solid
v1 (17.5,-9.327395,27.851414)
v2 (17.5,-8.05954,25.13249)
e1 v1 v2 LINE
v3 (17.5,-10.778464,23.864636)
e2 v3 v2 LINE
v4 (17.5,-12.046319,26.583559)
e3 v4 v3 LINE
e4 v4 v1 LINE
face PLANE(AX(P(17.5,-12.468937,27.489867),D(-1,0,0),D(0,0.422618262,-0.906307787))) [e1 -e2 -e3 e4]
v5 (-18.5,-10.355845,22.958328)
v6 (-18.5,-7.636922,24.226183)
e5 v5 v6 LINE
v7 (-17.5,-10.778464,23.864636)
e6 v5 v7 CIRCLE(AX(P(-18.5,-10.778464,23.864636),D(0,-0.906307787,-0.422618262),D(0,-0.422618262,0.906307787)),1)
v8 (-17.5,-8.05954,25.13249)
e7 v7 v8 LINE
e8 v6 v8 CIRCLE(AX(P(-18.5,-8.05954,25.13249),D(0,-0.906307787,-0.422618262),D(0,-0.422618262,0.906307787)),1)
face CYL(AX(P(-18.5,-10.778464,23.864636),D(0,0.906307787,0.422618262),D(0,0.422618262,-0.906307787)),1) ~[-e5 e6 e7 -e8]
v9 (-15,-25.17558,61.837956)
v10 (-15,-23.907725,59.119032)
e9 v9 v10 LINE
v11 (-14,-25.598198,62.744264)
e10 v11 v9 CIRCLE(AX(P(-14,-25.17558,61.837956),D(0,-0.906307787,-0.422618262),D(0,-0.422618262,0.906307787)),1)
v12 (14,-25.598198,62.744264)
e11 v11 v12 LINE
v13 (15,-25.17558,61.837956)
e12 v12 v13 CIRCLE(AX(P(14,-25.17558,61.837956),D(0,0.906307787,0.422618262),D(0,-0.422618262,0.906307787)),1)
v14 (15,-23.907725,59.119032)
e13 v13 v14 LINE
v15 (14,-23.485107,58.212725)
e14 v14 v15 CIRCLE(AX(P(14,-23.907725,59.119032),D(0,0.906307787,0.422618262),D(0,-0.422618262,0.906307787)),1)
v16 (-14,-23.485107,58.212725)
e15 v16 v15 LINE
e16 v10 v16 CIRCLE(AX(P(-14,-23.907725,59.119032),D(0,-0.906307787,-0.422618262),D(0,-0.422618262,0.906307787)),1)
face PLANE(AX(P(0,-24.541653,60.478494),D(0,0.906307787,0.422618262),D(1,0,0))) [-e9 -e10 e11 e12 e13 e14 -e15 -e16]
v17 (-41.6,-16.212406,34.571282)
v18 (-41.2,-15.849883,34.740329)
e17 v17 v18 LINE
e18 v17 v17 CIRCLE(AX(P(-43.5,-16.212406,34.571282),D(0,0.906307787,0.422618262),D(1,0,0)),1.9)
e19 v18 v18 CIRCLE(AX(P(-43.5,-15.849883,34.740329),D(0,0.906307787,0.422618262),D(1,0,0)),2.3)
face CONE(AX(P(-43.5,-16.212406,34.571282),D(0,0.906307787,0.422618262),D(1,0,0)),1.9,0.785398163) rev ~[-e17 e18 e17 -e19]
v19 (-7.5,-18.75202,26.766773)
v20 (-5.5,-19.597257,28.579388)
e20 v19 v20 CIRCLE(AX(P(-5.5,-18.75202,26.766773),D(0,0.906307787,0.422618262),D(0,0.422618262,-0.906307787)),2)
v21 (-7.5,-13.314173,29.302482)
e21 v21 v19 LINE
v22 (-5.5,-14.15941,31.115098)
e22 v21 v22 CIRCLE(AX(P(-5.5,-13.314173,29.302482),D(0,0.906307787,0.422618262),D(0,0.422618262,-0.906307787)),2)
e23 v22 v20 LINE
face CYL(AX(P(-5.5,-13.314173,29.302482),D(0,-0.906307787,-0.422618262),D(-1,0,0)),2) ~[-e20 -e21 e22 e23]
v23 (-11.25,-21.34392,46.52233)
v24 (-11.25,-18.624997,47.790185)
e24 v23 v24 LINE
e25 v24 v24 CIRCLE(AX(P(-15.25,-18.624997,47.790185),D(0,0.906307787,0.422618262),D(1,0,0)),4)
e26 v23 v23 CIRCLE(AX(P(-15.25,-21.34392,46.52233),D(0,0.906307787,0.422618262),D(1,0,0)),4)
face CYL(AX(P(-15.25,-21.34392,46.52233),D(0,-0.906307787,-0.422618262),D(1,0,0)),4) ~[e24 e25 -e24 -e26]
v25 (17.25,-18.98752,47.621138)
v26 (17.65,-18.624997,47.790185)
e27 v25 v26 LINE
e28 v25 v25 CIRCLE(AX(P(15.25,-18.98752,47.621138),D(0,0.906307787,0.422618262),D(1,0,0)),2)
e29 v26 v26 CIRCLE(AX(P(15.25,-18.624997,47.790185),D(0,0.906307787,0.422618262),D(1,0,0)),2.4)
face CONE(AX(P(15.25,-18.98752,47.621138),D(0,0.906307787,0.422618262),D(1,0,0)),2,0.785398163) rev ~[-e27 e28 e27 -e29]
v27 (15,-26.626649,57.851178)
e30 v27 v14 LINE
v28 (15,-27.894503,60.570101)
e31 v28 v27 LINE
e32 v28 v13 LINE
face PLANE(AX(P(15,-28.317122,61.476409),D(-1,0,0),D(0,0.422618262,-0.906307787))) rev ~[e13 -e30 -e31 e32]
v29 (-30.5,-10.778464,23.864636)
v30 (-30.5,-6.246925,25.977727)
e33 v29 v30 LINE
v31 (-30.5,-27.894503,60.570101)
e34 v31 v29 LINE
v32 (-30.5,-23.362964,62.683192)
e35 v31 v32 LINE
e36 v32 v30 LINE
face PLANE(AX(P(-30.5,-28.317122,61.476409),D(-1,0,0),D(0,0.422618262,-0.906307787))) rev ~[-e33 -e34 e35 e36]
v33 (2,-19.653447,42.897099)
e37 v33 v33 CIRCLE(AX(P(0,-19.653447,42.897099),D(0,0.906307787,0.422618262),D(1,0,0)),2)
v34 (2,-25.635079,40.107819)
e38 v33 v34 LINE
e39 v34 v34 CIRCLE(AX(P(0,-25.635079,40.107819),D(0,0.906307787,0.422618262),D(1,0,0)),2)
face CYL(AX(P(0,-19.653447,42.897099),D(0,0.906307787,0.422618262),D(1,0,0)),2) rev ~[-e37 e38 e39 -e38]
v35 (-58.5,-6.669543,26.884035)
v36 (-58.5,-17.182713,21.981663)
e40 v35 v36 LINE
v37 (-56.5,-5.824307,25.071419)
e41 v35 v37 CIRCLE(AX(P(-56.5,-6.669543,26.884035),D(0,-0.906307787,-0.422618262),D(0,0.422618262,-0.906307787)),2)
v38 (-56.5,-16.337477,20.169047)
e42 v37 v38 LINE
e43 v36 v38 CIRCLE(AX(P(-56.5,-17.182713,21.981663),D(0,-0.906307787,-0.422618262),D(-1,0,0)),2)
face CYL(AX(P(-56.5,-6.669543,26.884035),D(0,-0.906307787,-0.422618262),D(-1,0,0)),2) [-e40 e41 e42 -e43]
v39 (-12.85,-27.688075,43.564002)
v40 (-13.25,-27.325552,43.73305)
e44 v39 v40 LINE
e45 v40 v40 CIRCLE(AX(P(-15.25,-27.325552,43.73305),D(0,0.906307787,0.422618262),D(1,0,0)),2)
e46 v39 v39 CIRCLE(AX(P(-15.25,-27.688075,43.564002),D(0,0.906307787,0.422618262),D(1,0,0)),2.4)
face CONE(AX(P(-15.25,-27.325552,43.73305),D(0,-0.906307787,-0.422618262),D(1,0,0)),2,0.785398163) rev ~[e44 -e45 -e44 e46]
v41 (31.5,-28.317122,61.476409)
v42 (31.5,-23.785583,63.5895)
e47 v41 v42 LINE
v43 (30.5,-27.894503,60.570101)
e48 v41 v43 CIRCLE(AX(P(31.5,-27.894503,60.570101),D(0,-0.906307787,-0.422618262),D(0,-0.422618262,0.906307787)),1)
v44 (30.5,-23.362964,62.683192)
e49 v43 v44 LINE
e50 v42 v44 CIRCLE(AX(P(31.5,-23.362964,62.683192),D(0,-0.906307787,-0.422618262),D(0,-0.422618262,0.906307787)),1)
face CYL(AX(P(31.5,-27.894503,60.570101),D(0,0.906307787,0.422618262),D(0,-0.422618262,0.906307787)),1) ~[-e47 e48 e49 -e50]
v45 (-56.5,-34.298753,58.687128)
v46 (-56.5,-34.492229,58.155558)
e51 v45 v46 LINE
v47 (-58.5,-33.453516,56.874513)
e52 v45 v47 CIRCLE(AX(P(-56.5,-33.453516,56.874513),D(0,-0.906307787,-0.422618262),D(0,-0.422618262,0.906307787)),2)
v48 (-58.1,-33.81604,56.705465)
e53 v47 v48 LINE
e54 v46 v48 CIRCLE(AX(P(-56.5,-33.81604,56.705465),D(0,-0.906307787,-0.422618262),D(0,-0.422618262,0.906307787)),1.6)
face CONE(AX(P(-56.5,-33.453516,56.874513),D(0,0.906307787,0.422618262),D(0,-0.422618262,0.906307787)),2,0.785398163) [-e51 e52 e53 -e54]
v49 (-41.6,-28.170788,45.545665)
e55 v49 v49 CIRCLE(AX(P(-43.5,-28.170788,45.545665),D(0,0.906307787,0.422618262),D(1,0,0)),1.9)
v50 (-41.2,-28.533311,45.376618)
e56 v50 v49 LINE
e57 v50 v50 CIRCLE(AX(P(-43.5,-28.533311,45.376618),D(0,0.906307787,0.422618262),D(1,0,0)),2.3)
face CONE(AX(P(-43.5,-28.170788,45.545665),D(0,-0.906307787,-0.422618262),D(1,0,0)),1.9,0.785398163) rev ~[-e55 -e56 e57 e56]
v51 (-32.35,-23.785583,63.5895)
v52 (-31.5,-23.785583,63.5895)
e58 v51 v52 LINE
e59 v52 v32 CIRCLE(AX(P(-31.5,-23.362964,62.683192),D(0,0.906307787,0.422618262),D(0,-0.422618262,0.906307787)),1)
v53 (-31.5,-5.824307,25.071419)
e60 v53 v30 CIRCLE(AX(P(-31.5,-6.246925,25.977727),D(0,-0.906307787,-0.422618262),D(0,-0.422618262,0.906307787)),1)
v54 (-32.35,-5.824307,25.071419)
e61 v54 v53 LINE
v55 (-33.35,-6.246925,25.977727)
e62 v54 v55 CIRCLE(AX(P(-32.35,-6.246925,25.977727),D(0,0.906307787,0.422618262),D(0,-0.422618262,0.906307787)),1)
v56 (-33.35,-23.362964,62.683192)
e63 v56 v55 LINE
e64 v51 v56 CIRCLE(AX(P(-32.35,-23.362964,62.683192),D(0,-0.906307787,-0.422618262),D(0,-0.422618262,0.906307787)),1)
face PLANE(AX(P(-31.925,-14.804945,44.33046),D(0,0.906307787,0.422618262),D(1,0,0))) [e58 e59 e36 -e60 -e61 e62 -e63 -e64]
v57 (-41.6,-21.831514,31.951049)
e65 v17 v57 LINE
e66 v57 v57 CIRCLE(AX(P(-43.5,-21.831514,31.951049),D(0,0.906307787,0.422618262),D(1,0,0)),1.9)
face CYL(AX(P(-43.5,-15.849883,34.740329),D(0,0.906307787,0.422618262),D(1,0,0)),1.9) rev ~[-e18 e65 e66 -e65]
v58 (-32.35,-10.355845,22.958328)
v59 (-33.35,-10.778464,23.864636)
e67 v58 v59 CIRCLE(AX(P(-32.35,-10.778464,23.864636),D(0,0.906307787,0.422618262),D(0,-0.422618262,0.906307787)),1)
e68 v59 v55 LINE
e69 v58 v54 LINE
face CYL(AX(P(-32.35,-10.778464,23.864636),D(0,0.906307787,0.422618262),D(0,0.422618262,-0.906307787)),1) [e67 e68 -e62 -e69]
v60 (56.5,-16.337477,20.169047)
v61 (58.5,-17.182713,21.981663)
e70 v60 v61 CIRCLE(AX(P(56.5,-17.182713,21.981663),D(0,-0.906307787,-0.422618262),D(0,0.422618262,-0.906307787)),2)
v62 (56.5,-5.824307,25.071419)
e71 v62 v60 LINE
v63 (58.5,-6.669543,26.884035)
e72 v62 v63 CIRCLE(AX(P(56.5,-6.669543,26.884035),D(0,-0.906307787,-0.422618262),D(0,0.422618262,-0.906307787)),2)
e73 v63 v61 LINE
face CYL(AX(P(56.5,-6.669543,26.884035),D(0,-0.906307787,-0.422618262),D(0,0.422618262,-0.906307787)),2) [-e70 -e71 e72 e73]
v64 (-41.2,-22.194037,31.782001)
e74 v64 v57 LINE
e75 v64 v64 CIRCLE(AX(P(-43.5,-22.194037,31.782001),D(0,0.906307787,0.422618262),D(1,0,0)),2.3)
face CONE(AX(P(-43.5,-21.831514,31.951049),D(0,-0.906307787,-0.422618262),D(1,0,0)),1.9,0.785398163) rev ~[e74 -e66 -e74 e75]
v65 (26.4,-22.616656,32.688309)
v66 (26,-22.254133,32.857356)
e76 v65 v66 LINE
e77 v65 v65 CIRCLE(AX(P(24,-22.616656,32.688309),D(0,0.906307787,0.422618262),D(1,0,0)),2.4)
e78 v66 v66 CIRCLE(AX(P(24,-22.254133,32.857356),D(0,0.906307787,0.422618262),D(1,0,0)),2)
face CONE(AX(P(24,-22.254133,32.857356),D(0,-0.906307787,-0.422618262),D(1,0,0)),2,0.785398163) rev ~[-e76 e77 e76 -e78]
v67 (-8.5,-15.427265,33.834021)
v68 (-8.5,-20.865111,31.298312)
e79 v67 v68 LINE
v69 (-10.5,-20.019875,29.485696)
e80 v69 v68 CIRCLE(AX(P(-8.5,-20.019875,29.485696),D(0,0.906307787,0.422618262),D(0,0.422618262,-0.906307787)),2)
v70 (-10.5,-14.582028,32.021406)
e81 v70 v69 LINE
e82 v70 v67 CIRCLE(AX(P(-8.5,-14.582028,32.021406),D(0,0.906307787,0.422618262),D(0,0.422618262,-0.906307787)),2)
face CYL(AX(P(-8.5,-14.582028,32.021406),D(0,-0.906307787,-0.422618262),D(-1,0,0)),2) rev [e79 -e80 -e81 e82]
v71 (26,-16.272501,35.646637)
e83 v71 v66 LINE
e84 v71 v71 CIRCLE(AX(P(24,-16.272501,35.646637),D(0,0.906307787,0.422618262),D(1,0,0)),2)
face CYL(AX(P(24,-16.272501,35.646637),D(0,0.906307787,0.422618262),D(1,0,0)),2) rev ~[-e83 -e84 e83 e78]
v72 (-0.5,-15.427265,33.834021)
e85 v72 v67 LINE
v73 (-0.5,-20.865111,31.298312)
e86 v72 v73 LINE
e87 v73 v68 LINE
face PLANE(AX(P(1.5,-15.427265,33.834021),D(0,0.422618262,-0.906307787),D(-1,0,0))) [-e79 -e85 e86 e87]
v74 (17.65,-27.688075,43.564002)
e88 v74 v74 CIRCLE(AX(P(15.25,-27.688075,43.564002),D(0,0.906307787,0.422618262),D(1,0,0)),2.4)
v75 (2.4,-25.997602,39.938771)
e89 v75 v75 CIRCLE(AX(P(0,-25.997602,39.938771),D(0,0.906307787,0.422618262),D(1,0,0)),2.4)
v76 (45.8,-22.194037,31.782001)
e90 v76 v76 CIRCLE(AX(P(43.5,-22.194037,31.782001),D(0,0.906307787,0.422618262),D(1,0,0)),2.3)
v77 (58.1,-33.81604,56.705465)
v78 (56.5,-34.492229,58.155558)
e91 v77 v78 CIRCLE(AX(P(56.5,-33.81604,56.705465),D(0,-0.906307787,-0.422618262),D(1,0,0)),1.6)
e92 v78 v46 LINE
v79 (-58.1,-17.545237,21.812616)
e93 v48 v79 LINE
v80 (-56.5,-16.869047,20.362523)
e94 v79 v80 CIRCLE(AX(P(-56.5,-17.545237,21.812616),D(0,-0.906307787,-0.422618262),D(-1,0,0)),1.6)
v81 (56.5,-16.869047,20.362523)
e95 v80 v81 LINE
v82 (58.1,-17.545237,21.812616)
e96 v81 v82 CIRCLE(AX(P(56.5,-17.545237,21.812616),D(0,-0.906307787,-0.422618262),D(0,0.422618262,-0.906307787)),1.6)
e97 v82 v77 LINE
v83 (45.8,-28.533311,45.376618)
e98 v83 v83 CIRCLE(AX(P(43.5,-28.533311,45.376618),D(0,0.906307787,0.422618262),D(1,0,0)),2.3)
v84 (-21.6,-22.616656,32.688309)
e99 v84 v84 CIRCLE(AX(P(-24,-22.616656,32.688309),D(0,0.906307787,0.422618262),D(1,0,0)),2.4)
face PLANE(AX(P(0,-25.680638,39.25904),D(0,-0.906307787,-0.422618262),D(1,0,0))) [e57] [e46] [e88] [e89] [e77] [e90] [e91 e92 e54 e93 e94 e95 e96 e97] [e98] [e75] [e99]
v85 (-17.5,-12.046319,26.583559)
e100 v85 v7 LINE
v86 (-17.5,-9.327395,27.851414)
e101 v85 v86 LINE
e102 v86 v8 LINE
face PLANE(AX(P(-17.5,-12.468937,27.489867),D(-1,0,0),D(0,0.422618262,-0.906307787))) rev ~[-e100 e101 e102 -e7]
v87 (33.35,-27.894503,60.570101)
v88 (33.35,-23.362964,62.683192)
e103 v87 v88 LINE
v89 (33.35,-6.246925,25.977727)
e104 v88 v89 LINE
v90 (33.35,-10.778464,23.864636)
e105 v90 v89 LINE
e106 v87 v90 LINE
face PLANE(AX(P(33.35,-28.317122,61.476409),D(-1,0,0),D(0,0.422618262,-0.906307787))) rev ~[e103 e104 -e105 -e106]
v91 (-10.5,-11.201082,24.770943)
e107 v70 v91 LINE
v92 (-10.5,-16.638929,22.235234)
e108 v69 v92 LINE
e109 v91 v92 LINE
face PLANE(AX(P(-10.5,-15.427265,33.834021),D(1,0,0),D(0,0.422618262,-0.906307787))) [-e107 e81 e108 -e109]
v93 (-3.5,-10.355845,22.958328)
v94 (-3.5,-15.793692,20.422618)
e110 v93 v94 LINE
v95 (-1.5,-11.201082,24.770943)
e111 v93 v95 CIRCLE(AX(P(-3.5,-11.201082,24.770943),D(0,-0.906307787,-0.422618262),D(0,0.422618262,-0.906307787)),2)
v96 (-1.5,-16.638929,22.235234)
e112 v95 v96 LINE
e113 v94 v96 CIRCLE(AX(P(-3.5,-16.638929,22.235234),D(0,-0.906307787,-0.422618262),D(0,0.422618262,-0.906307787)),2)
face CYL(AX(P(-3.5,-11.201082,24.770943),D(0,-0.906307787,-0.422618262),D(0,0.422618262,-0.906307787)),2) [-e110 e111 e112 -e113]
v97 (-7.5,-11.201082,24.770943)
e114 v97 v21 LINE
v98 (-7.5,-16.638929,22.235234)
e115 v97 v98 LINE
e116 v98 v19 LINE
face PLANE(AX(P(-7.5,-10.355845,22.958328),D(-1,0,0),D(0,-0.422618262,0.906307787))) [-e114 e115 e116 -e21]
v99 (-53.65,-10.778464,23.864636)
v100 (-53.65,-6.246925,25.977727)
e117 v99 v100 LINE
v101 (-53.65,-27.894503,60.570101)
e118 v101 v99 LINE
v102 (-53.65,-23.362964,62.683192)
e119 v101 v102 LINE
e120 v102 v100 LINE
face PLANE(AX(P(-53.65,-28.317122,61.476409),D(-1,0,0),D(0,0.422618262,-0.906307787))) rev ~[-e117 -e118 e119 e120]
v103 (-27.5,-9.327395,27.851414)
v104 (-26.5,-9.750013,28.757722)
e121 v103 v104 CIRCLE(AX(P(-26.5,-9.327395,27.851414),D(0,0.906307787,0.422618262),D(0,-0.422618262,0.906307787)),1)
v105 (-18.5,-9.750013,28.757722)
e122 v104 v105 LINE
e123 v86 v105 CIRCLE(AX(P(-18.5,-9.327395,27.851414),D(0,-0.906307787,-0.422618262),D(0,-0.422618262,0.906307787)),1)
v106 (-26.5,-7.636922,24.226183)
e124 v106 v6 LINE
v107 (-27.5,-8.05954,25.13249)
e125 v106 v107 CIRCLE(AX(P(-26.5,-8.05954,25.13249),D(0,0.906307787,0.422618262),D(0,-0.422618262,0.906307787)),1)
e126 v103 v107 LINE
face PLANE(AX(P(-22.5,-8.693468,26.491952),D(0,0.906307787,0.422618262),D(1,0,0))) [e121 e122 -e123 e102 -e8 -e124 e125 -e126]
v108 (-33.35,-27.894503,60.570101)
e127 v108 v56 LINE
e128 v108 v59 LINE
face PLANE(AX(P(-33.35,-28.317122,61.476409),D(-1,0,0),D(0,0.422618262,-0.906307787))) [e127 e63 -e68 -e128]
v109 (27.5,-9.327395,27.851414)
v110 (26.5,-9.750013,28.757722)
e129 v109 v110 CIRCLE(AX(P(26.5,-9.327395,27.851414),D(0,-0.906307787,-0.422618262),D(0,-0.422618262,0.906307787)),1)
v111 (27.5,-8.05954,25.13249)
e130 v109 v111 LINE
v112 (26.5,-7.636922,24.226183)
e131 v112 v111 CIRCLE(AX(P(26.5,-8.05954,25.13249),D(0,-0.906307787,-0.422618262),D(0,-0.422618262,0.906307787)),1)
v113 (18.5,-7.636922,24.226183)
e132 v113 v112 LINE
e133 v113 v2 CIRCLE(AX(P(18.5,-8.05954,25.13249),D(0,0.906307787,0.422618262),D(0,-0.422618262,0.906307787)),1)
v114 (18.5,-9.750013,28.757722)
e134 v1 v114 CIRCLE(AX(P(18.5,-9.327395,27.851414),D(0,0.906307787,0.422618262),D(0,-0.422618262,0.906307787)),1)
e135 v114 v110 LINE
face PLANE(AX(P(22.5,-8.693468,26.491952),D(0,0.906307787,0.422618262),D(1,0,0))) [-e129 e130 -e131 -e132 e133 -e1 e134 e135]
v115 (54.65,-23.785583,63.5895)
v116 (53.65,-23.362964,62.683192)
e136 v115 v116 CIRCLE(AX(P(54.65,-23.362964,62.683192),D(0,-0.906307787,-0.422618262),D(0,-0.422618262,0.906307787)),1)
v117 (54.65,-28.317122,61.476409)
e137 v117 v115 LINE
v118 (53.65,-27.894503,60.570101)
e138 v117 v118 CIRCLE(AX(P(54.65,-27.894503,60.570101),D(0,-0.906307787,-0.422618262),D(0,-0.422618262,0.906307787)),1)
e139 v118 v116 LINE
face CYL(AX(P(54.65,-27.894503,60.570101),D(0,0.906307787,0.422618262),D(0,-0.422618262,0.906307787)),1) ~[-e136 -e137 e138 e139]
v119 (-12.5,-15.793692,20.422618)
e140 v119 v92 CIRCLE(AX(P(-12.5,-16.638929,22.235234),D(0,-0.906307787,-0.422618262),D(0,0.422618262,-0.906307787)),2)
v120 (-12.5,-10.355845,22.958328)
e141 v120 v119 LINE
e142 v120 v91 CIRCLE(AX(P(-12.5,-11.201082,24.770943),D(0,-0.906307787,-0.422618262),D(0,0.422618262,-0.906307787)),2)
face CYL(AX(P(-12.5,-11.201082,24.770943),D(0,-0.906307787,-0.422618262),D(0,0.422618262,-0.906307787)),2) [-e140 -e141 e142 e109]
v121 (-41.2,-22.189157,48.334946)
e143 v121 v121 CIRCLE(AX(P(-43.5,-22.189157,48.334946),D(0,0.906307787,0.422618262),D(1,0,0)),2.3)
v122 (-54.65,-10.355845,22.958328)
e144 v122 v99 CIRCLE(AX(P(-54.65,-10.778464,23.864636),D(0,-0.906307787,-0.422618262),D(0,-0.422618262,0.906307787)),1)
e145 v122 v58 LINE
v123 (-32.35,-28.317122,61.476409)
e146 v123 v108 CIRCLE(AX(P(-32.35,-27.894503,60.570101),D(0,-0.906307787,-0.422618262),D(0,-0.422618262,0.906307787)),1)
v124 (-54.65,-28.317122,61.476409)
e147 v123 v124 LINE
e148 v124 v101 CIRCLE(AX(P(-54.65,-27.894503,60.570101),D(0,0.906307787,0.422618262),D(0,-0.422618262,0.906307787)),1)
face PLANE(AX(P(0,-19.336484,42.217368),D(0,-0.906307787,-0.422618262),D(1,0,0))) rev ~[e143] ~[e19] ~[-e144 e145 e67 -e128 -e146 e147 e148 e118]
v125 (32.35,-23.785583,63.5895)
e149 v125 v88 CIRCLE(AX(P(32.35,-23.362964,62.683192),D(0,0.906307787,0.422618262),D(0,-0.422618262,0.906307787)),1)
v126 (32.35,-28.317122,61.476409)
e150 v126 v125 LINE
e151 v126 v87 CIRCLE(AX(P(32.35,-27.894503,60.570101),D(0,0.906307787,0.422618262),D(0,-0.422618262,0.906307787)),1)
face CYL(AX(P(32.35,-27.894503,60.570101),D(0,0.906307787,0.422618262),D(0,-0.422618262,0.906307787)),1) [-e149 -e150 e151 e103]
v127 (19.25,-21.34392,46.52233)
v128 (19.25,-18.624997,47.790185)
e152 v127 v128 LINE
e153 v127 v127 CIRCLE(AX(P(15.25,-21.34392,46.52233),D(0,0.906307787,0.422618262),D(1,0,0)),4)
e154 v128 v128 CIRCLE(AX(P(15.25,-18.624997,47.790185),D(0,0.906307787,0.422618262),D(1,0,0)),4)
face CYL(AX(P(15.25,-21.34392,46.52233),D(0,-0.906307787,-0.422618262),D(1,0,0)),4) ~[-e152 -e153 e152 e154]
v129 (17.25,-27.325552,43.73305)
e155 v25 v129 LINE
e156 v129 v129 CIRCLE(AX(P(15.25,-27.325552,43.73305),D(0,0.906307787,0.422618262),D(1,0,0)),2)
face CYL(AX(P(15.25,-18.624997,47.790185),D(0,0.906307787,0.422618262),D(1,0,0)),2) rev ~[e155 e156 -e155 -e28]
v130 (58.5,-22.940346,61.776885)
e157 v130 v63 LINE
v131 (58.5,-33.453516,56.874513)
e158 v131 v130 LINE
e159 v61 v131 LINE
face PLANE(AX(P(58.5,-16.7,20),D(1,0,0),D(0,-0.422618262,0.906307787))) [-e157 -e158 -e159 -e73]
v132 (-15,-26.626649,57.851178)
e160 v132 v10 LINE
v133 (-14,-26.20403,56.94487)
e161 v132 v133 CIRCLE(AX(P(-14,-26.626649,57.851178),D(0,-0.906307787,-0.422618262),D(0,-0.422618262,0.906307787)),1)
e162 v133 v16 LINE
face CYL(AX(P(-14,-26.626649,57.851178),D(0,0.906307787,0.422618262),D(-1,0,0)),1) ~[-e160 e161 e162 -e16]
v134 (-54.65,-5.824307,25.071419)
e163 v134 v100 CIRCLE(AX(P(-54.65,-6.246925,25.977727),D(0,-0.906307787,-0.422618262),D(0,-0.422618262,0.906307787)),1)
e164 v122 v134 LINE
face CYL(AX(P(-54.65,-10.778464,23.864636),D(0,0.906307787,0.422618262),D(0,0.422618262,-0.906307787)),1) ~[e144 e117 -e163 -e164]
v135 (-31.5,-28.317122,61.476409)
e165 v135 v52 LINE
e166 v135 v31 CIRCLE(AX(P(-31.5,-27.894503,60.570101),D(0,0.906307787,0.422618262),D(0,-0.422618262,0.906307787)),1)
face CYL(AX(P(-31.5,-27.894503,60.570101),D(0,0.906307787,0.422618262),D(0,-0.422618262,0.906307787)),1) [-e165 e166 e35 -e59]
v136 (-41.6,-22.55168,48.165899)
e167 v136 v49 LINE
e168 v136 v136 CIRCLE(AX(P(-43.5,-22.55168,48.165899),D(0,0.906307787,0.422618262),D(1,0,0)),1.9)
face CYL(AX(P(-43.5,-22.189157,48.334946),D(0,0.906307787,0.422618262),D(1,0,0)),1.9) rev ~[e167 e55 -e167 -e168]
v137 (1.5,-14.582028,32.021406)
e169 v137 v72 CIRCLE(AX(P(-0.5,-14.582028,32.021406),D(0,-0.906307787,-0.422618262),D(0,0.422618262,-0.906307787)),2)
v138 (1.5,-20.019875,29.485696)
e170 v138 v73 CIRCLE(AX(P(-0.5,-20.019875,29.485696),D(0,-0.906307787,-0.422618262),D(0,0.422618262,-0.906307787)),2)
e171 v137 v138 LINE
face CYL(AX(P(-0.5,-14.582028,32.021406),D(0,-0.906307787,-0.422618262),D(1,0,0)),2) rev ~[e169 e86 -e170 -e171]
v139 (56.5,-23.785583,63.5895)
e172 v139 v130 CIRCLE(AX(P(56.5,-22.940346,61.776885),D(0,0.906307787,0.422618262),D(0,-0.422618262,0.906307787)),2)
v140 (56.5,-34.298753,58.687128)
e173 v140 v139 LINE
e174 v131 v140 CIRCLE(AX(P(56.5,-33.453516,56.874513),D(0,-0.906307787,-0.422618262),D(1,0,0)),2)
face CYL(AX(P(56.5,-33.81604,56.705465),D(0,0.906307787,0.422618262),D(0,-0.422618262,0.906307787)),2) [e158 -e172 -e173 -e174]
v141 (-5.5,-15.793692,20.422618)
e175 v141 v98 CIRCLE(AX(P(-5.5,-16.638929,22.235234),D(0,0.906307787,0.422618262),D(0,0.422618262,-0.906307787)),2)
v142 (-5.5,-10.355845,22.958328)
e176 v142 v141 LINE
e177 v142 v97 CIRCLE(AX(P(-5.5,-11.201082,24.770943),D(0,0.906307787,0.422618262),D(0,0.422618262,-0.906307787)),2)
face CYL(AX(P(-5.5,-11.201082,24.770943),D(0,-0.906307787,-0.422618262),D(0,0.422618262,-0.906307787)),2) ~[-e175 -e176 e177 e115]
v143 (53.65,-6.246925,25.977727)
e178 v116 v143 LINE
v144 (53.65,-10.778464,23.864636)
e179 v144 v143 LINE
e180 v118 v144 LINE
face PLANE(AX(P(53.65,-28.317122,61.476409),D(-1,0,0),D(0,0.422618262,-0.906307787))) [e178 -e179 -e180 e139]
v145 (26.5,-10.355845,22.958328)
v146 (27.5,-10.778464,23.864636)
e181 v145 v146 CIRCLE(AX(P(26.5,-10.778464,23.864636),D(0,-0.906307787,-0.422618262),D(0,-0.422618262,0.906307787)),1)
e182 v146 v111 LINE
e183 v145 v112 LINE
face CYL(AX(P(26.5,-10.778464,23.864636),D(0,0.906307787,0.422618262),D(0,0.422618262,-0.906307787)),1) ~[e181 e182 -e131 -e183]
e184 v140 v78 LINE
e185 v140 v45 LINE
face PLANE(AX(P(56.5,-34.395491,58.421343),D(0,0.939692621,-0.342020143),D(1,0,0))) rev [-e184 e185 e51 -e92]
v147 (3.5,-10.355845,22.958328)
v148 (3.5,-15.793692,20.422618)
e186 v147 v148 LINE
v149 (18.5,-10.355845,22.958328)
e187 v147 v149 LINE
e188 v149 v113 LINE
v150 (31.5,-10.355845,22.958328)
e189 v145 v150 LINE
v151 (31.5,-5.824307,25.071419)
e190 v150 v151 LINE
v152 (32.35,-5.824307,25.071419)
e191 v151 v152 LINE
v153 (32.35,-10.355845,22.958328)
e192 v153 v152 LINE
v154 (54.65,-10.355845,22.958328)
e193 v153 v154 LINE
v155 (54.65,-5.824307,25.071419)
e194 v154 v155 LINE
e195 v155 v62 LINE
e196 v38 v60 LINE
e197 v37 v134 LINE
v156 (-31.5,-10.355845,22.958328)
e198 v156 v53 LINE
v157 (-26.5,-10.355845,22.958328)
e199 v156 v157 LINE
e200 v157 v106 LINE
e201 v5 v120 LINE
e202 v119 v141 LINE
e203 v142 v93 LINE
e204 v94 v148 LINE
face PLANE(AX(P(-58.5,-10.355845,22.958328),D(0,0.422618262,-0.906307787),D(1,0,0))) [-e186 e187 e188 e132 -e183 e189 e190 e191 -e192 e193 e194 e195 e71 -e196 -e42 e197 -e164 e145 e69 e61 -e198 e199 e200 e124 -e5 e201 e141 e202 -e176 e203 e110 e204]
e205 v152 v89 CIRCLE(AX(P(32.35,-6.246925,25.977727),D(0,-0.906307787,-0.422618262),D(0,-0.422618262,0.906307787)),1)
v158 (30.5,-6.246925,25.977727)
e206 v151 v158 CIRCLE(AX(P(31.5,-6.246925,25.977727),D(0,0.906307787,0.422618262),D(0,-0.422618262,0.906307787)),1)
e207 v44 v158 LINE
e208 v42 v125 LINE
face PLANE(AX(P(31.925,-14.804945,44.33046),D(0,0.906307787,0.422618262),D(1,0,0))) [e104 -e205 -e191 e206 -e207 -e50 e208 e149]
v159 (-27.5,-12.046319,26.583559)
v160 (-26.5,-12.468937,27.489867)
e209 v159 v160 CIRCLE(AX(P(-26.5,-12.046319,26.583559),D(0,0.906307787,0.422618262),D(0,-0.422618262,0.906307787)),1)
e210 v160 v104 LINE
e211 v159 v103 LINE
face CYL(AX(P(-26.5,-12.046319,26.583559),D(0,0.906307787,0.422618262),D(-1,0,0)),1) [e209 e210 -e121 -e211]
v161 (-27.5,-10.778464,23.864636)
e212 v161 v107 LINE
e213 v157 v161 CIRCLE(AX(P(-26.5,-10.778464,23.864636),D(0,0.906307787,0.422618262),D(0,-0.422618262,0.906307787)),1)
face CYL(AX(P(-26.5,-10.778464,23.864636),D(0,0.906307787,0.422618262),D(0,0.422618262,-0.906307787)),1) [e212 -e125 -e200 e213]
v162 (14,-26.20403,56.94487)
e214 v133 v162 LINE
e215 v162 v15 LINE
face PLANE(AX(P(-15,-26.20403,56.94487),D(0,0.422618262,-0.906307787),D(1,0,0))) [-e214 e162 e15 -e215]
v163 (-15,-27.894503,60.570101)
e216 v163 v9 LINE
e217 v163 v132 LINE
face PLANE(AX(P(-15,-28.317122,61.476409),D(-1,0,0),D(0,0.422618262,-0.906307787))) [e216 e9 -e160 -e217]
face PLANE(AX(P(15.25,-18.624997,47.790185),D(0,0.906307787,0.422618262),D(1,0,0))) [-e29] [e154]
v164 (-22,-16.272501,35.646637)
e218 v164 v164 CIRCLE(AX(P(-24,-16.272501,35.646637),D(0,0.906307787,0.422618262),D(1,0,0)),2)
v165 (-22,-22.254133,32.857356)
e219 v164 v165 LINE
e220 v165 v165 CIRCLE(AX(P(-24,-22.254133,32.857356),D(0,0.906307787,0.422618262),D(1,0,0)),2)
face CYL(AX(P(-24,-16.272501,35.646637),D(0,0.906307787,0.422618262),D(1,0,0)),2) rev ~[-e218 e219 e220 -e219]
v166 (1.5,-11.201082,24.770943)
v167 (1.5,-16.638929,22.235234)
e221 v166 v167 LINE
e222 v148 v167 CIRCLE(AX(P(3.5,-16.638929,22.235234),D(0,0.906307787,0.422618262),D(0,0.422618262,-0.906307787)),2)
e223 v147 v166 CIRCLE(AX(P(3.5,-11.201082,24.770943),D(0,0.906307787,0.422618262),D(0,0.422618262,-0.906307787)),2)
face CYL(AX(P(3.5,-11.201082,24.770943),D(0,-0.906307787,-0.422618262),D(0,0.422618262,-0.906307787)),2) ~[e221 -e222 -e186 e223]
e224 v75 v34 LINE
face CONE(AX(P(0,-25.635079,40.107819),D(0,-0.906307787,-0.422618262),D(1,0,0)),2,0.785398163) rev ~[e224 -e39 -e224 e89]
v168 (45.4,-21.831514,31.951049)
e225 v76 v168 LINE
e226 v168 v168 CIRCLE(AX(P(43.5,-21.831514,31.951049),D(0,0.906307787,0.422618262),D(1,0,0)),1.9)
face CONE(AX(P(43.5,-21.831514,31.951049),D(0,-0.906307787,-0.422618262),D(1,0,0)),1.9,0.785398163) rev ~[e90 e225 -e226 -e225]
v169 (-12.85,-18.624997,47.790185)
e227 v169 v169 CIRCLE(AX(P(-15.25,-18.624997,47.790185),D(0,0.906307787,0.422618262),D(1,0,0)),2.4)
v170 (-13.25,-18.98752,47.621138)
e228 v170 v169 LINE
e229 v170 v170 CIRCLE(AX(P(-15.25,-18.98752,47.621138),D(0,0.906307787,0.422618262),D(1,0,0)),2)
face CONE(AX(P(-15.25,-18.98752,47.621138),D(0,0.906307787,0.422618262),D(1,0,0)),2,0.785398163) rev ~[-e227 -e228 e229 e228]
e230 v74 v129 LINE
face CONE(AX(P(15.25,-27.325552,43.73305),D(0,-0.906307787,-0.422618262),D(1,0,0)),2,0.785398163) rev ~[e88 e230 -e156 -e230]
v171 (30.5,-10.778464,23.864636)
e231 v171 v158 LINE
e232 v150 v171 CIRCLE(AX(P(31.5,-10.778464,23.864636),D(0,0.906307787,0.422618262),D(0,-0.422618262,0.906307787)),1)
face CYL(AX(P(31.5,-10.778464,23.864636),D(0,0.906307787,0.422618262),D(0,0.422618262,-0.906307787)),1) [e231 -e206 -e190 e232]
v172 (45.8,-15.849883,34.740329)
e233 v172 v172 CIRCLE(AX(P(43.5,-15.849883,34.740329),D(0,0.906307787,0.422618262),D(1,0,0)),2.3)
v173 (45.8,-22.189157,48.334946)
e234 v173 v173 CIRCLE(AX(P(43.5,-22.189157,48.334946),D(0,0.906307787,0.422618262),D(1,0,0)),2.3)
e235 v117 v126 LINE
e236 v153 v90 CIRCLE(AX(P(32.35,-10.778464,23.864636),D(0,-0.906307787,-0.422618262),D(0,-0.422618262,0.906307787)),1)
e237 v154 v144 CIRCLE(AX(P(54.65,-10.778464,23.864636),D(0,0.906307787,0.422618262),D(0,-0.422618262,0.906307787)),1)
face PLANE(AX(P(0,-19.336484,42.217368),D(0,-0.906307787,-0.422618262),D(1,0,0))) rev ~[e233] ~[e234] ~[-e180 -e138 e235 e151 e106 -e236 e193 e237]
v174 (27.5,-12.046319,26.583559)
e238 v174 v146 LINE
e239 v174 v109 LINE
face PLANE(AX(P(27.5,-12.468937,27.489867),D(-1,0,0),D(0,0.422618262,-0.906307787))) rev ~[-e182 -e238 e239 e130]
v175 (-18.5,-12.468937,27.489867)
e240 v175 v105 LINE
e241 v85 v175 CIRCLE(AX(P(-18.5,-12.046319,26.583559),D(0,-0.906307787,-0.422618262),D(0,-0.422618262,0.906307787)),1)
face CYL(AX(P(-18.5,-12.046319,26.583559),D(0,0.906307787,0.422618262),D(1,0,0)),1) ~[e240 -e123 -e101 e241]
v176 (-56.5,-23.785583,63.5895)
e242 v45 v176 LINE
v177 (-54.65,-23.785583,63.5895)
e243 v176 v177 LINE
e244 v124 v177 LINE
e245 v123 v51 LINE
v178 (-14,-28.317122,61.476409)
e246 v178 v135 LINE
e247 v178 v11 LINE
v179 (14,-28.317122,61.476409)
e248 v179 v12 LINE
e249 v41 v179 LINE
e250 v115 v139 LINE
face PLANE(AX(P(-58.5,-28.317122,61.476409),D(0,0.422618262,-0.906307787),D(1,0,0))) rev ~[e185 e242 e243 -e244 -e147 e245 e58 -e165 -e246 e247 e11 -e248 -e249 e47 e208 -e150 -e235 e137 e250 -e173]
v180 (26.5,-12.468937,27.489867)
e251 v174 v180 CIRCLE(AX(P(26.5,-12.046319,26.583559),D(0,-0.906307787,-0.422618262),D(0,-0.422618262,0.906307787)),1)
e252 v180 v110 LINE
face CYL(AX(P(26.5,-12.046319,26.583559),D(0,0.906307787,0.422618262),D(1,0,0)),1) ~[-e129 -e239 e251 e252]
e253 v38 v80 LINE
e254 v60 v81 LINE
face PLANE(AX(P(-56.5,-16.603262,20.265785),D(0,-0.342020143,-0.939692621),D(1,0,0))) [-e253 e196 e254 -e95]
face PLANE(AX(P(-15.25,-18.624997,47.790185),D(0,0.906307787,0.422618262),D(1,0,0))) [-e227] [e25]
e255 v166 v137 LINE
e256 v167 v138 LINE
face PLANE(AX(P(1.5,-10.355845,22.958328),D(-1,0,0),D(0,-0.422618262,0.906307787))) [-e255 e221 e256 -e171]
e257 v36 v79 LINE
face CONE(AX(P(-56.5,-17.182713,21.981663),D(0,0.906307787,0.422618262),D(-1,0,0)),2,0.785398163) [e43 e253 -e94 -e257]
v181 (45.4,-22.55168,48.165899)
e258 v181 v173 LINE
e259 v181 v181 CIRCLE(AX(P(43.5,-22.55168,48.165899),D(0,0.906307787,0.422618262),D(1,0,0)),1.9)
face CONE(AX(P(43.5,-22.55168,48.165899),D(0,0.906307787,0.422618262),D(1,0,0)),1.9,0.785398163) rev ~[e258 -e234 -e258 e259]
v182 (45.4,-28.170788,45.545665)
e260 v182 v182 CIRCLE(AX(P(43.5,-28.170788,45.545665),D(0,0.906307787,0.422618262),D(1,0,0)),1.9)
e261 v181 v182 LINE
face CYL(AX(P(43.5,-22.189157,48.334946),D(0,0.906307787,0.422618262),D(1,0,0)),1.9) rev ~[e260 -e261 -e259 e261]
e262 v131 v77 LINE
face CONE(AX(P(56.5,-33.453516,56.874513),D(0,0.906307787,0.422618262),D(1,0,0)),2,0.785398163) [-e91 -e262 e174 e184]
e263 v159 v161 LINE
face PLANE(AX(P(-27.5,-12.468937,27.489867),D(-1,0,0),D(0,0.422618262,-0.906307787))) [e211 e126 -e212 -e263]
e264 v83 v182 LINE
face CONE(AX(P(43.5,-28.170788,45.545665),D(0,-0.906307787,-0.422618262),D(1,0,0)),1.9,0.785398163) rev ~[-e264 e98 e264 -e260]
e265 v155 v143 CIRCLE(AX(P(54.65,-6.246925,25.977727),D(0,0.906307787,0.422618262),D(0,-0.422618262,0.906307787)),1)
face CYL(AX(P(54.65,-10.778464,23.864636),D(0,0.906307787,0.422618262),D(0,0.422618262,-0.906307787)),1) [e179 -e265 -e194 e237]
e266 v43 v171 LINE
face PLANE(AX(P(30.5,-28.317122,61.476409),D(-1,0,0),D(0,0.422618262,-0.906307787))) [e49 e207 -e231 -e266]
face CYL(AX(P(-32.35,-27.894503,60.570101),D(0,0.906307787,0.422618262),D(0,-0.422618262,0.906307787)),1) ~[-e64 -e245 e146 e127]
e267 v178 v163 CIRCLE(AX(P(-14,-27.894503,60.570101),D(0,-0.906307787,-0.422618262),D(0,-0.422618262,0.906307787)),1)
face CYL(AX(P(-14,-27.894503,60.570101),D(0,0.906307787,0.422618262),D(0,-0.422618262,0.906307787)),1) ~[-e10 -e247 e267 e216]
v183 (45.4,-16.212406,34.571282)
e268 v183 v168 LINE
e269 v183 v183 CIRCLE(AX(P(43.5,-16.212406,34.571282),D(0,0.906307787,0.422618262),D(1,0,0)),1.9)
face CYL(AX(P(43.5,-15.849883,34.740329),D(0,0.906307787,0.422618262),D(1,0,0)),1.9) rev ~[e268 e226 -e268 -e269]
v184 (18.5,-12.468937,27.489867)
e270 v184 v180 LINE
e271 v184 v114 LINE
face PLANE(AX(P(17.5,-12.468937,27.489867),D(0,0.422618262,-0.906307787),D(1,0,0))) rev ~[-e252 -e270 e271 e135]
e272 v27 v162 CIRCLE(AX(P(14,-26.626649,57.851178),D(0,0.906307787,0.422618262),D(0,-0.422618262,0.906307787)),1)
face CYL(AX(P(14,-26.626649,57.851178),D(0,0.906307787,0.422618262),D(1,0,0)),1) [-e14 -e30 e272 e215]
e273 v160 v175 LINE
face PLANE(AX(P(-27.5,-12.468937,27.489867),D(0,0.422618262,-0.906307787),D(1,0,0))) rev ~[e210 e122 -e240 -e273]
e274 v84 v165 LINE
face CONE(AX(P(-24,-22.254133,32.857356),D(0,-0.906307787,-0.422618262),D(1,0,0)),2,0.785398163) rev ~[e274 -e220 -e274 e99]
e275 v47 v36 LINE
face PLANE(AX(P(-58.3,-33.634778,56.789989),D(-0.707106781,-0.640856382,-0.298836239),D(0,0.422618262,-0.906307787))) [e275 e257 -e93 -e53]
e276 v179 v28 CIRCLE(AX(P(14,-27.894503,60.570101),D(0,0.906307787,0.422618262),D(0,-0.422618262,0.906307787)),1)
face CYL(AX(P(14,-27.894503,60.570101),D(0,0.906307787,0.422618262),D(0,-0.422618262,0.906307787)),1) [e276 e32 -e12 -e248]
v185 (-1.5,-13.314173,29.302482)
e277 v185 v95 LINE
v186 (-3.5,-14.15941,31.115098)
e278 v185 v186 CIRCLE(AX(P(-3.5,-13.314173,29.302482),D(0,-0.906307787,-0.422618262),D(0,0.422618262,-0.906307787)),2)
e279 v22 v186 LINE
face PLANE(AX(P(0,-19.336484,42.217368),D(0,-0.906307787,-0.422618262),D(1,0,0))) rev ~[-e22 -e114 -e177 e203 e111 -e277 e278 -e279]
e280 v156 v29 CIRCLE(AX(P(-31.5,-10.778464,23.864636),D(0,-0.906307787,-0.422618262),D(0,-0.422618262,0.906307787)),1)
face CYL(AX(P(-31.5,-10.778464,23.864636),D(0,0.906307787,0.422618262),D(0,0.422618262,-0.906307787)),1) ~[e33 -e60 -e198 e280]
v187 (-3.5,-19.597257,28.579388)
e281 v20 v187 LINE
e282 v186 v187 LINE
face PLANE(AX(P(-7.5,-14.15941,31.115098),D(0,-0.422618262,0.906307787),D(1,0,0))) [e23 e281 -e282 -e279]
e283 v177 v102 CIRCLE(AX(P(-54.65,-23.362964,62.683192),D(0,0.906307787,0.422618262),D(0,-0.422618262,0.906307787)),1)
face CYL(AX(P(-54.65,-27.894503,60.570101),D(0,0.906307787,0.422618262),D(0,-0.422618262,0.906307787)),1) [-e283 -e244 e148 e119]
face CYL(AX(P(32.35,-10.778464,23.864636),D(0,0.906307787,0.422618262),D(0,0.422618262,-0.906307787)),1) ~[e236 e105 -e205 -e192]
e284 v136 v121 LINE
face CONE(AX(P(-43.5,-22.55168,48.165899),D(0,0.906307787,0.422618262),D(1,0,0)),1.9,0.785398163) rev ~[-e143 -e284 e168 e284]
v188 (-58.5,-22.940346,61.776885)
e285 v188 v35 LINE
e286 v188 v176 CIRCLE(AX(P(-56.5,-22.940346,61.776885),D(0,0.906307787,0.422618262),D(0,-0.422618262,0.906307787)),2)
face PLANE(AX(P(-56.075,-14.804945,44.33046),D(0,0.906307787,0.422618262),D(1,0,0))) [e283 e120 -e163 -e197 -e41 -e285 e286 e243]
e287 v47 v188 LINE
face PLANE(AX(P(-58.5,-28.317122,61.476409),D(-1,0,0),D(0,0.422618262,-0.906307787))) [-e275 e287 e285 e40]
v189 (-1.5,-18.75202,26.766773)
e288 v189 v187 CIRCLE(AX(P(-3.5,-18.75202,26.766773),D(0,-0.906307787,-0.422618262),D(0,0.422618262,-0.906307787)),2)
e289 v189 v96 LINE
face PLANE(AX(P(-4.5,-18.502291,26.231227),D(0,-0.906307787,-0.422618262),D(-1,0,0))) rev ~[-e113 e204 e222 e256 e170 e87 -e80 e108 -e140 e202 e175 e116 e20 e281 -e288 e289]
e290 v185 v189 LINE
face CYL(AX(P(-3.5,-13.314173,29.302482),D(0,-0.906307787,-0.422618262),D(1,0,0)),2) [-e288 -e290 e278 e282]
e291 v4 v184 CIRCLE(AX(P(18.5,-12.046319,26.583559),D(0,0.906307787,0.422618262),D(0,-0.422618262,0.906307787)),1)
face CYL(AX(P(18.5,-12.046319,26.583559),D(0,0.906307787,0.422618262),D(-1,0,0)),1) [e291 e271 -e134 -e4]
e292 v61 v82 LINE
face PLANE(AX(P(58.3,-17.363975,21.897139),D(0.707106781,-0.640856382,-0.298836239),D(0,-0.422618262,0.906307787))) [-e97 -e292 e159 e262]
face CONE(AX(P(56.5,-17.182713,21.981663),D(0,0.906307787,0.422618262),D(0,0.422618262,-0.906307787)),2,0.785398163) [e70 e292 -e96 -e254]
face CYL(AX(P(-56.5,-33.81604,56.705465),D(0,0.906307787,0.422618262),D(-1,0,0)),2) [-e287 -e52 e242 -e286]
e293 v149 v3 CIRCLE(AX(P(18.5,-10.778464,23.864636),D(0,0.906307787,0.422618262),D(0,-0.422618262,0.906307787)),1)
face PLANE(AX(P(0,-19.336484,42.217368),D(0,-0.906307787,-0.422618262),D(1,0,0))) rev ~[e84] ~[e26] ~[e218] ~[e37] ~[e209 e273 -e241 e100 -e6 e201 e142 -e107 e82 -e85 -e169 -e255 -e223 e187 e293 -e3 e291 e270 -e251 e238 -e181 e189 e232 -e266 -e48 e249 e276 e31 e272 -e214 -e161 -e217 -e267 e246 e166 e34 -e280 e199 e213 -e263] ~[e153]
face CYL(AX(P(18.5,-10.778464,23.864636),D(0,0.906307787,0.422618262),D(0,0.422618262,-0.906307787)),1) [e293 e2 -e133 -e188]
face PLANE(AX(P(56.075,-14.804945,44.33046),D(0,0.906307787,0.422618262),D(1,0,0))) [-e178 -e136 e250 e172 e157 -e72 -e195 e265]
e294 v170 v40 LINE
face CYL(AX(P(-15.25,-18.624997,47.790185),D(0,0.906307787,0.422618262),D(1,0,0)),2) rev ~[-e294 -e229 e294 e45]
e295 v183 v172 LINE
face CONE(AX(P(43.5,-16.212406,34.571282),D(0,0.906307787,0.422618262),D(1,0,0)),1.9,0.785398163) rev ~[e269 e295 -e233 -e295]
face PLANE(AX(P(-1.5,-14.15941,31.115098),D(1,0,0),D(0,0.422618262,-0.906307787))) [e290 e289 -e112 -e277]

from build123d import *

# Parameters (mm, degrees)
SKETCH017_W                   = 117
SKETCH017_H                   = 42.5
PAD006_DEPTH                  = 7
SKETCH018_W                   = 4.85
SKETCH018_H                   = 42.5
SKETCH018_W_2                 = 2.85
PAD007_DEPTH                  = 5
SKETCH019_R                   = 1.9
POCKET006_DEPTH               = 7
SKETCH020_R                   = 4
SKETCH020_W                   = 30
SKETCH020_H                   = 5
SKETCH020_W_2                 = 10
PAD008_DEPTH                  = 3
SKETCH021_R                   = 2
POCKET007_DEPTH               = 10.001
SKETCH022_R                   = 2
POCKET008_DEPTH               = 7
FILLET005006_R                = 2
FILLET005007_R                = 1
CHAMFER004_SIZE               = 0.4
POCKET009_DEPTH               = 6
FILLET005008_R                = 2
BODY004004003_PLACEMENT_ANGLE = 25


with BuildPart() as part:
    # Sketch017 → Pad006 (new body)
    with BuildSketch(Plane.XZ):
        with Locations((58.5, 21.25)):
            Rectangle(SKETCH017_W, SKETCH017_H)
    extrude(amount=-PAD006_DEPTH)

    # Sketch018 (on Face6 of Pad006) → Pad007 (join)
    with BuildSketch(Plane(origin=(0, 7, 0), x_dir=(1, 0, 0), z_dir=(0, 1, 0))):
        with Locations((2.425, -21.25)):
            Rectangle(SKETCH018_W, SKETCH018_H)
        with Locations((114.575, -21.25)):
            Rectangle(SKETCH018_W, SKETCH018_H)
        with Locations((26.575, -21.25)):
            Rectangle(SKETCH018_W_2, SKETCH018_H)
        with Locations((90.425, -21.25)):
            Rectangle(SKETCH018_W_2, SKETCH018_H)
    extrude(amount=PAD007_DEPTH)

    # Sketch019 (on Face6 of Pad007) → Pocket006 (cut)
    with BuildSketch(Plane(origin=(0, 7, 0), x_dir=(1, 0, 0), z_dir=(0, 1, 0))):
        with Locations((15, -13)):
            Circle(SKETCH019_R)
        with Locations((15, -28)):
            Circle(SKETCH019_R)
        with Locations((102, -13)):
            Circle(SKETCH019_R)
        with Locations((102, -28)):
            Circle(SKETCH019_R)
    extrude(amount=-POCKET006_DEPTH, mode=Mode.SUBTRACT)

    # Sketch020 (on Face8 of Pocket006) → Pad008 (join)
    with BuildSketch(Plane(origin=(0, 7, 0), x_dir=(1, 0, 0), z_dir=(0, 1, 0))):
        with Locations((43.25, -26)):
            Circle(SKETCH020_R)
        with Locations((73.75, -26)):
            Circle(SKETCH020_R)
        with Locations((58.5, -40)):
            Rectangle(SKETCH020_W, SKETCH020_H)
        with Locations((36, -2.5)):
            Rectangle(SKETCH020_W_2, SKETCH020_H)
        with Locations((81, -2.5)):
            Rectangle(SKETCH020_W_2, SKETCH020_H)
    extrude(amount=PAD008_DEPTH)

    # Sketch021 (on Face50 of Pad008) → Pocket007 (cut, through all)
    with BuildSketch(Plane(origin=(0, 10, 0), x_dir=(1, 0, 0), z_dir=(0, 1, 0))):
        with Locations((43.25, -26)):
            Circle(SKETCH021_R)
        with Locations((73.75, -26)):
            Circle(SKETCH021_R)
    extrude(amount=-POCKET007_DEPTH, mode=Mode.SUBTRACT)

    # Sketch022 (on Face8 of Pocket007) → Pocket008 (cut)
    with BuildSketch(Plane(origin=(0, 7, 0), x_dir=(1, 0, 0), z_dir=(0, 1, 0))):
        with Locations((34.5, -14)):
            Circle(SKETCH022_R)
        with Locations((82.5, -14)):
            Circle(SKETCH022_R)
        with Locations((58.5, -22)):
            Circle(SKETCH022_R)
    extrude(amount=-POCKET008_DEPTH, mode=Mode.SUBTRACT)

    # Fillet005006
    fillet005006_edges = [part.edges().sort_by_distance(p)[0] for p in [
        (0, 3.5, 42.5),
        (0, 3.5, 0),
        (117, 3.5, 42.5),
        (117, 3.5, 0),
    ]]
    fillet(fillet005006_edges, radius=FILLET005006_R)

    # Fillet005007
    fillet005007_edges = [part.edges().sort_by_distance(p)[0] for p in [
        (43.5, 8.5, 42.5),
        (31, 8.5, 0),
        (31, 8.5, 5),
        (41, 8.5, 5),
        (76, 8.5, 0),
        (76, 8.5, 5),
        (86, 8.5, 5),
        (43.5, 8.5, 37.5),
        (73.5, 8.5, 42.5),
        (73.5, 8.5, 37.5),
        (41, 8.5, 0),
        (86, 8.5, 0),
        (4.85, 9.5, 42.5),
        (25.15, 9.5, 42.5),
        (28, 9.5, 42.5),
        (89, 9.5, 42.5),
        (91.85, 9.5, 42.5),
        (112.15, 9.5, 42.5),
        (4.85, 9.5, 0),
        (25.15, 9.5, 0),
        (28, 9.5, 0),
        (89, 9.5, 0),
        (91.85, 9.5, 0),
        (112.15, 9.5, 0),
    ]]
    fillet(fillet005007_edges, radius=FILLET005007_R)

    # Chamfer004
    chamfer004_edges = [part.edges().sort_by_distance(p)[0] for p in [
        (58.5, 0, 0),
        (0.585786, 0, 0.585786),
        (116.414214, 0, 0.585786),
        (0, 0, 21.25),
        (117, 0, 21.25),
        (0.585786, 0, 41.914214),
        (116.414214, 0, 41.914214),
        (58.5, 0, 42.5),
        (13.1, 0, 28),
        (41.25, 0, 26),
        (13.1, 0, 13),
        (32.5, 0, 14),
        (71.75, 0, 26),
        (56.5, 0, 22),
        (100.1, 0, 28),
        (80.5, 0, 14),
        (100.1, 0, 13),
        (13.1, 7, 13),
        (13.1, 7, 28),
        (100.1, 7, 13),
        (100.1, 7, 28),
        (71.75, 10, 26),
        (41.25, 10, 26),
    ]]
    chamfer(chamfer004_edges, length=CHAMFER004_SIZE)

    # Sketch023 (on Face24 of Chamfer004) → Pocket009 (cut)
    with BuildSketch(Plane(origin=(0, 7, 0), x_dir=(1, 0, 0), z_dir=(0, 1, 0))):
        Polygon((48, 0), (51, 0), (51, -9), (57, -9), (57, 0), (60, 0), (60, -12), (48, -12), align=None)
    extrude(amount=-POCKET009_DEPTH, mode=Mode.SUBTRACT)

    # Fillet005008
    fillet005008_edges = [part.edges().sort_by_distance(p)[0] for p in [
        (48, 4, 12),
        (60, 4, 12),
        (51, 4, 9),
        (57, 4, 9),
        (48, 4, 0),
        (51, 4, 0),
        (57, 4, 0),
        (60, 4, 0),
    ]]
    fillet(fillet005008_edges, radius=FILLET005008_R)


with BuildPart() as part_1:
    # Body004004003 placement: moved
    add(part.part.moved(Location((-58.5, -16.7, 20))).rotate(Axis((-58.5, -16.7, 20), (1, 0, 0)), BODY004004003_PLACEMENT_ANGLE))


solid = part_1.part
